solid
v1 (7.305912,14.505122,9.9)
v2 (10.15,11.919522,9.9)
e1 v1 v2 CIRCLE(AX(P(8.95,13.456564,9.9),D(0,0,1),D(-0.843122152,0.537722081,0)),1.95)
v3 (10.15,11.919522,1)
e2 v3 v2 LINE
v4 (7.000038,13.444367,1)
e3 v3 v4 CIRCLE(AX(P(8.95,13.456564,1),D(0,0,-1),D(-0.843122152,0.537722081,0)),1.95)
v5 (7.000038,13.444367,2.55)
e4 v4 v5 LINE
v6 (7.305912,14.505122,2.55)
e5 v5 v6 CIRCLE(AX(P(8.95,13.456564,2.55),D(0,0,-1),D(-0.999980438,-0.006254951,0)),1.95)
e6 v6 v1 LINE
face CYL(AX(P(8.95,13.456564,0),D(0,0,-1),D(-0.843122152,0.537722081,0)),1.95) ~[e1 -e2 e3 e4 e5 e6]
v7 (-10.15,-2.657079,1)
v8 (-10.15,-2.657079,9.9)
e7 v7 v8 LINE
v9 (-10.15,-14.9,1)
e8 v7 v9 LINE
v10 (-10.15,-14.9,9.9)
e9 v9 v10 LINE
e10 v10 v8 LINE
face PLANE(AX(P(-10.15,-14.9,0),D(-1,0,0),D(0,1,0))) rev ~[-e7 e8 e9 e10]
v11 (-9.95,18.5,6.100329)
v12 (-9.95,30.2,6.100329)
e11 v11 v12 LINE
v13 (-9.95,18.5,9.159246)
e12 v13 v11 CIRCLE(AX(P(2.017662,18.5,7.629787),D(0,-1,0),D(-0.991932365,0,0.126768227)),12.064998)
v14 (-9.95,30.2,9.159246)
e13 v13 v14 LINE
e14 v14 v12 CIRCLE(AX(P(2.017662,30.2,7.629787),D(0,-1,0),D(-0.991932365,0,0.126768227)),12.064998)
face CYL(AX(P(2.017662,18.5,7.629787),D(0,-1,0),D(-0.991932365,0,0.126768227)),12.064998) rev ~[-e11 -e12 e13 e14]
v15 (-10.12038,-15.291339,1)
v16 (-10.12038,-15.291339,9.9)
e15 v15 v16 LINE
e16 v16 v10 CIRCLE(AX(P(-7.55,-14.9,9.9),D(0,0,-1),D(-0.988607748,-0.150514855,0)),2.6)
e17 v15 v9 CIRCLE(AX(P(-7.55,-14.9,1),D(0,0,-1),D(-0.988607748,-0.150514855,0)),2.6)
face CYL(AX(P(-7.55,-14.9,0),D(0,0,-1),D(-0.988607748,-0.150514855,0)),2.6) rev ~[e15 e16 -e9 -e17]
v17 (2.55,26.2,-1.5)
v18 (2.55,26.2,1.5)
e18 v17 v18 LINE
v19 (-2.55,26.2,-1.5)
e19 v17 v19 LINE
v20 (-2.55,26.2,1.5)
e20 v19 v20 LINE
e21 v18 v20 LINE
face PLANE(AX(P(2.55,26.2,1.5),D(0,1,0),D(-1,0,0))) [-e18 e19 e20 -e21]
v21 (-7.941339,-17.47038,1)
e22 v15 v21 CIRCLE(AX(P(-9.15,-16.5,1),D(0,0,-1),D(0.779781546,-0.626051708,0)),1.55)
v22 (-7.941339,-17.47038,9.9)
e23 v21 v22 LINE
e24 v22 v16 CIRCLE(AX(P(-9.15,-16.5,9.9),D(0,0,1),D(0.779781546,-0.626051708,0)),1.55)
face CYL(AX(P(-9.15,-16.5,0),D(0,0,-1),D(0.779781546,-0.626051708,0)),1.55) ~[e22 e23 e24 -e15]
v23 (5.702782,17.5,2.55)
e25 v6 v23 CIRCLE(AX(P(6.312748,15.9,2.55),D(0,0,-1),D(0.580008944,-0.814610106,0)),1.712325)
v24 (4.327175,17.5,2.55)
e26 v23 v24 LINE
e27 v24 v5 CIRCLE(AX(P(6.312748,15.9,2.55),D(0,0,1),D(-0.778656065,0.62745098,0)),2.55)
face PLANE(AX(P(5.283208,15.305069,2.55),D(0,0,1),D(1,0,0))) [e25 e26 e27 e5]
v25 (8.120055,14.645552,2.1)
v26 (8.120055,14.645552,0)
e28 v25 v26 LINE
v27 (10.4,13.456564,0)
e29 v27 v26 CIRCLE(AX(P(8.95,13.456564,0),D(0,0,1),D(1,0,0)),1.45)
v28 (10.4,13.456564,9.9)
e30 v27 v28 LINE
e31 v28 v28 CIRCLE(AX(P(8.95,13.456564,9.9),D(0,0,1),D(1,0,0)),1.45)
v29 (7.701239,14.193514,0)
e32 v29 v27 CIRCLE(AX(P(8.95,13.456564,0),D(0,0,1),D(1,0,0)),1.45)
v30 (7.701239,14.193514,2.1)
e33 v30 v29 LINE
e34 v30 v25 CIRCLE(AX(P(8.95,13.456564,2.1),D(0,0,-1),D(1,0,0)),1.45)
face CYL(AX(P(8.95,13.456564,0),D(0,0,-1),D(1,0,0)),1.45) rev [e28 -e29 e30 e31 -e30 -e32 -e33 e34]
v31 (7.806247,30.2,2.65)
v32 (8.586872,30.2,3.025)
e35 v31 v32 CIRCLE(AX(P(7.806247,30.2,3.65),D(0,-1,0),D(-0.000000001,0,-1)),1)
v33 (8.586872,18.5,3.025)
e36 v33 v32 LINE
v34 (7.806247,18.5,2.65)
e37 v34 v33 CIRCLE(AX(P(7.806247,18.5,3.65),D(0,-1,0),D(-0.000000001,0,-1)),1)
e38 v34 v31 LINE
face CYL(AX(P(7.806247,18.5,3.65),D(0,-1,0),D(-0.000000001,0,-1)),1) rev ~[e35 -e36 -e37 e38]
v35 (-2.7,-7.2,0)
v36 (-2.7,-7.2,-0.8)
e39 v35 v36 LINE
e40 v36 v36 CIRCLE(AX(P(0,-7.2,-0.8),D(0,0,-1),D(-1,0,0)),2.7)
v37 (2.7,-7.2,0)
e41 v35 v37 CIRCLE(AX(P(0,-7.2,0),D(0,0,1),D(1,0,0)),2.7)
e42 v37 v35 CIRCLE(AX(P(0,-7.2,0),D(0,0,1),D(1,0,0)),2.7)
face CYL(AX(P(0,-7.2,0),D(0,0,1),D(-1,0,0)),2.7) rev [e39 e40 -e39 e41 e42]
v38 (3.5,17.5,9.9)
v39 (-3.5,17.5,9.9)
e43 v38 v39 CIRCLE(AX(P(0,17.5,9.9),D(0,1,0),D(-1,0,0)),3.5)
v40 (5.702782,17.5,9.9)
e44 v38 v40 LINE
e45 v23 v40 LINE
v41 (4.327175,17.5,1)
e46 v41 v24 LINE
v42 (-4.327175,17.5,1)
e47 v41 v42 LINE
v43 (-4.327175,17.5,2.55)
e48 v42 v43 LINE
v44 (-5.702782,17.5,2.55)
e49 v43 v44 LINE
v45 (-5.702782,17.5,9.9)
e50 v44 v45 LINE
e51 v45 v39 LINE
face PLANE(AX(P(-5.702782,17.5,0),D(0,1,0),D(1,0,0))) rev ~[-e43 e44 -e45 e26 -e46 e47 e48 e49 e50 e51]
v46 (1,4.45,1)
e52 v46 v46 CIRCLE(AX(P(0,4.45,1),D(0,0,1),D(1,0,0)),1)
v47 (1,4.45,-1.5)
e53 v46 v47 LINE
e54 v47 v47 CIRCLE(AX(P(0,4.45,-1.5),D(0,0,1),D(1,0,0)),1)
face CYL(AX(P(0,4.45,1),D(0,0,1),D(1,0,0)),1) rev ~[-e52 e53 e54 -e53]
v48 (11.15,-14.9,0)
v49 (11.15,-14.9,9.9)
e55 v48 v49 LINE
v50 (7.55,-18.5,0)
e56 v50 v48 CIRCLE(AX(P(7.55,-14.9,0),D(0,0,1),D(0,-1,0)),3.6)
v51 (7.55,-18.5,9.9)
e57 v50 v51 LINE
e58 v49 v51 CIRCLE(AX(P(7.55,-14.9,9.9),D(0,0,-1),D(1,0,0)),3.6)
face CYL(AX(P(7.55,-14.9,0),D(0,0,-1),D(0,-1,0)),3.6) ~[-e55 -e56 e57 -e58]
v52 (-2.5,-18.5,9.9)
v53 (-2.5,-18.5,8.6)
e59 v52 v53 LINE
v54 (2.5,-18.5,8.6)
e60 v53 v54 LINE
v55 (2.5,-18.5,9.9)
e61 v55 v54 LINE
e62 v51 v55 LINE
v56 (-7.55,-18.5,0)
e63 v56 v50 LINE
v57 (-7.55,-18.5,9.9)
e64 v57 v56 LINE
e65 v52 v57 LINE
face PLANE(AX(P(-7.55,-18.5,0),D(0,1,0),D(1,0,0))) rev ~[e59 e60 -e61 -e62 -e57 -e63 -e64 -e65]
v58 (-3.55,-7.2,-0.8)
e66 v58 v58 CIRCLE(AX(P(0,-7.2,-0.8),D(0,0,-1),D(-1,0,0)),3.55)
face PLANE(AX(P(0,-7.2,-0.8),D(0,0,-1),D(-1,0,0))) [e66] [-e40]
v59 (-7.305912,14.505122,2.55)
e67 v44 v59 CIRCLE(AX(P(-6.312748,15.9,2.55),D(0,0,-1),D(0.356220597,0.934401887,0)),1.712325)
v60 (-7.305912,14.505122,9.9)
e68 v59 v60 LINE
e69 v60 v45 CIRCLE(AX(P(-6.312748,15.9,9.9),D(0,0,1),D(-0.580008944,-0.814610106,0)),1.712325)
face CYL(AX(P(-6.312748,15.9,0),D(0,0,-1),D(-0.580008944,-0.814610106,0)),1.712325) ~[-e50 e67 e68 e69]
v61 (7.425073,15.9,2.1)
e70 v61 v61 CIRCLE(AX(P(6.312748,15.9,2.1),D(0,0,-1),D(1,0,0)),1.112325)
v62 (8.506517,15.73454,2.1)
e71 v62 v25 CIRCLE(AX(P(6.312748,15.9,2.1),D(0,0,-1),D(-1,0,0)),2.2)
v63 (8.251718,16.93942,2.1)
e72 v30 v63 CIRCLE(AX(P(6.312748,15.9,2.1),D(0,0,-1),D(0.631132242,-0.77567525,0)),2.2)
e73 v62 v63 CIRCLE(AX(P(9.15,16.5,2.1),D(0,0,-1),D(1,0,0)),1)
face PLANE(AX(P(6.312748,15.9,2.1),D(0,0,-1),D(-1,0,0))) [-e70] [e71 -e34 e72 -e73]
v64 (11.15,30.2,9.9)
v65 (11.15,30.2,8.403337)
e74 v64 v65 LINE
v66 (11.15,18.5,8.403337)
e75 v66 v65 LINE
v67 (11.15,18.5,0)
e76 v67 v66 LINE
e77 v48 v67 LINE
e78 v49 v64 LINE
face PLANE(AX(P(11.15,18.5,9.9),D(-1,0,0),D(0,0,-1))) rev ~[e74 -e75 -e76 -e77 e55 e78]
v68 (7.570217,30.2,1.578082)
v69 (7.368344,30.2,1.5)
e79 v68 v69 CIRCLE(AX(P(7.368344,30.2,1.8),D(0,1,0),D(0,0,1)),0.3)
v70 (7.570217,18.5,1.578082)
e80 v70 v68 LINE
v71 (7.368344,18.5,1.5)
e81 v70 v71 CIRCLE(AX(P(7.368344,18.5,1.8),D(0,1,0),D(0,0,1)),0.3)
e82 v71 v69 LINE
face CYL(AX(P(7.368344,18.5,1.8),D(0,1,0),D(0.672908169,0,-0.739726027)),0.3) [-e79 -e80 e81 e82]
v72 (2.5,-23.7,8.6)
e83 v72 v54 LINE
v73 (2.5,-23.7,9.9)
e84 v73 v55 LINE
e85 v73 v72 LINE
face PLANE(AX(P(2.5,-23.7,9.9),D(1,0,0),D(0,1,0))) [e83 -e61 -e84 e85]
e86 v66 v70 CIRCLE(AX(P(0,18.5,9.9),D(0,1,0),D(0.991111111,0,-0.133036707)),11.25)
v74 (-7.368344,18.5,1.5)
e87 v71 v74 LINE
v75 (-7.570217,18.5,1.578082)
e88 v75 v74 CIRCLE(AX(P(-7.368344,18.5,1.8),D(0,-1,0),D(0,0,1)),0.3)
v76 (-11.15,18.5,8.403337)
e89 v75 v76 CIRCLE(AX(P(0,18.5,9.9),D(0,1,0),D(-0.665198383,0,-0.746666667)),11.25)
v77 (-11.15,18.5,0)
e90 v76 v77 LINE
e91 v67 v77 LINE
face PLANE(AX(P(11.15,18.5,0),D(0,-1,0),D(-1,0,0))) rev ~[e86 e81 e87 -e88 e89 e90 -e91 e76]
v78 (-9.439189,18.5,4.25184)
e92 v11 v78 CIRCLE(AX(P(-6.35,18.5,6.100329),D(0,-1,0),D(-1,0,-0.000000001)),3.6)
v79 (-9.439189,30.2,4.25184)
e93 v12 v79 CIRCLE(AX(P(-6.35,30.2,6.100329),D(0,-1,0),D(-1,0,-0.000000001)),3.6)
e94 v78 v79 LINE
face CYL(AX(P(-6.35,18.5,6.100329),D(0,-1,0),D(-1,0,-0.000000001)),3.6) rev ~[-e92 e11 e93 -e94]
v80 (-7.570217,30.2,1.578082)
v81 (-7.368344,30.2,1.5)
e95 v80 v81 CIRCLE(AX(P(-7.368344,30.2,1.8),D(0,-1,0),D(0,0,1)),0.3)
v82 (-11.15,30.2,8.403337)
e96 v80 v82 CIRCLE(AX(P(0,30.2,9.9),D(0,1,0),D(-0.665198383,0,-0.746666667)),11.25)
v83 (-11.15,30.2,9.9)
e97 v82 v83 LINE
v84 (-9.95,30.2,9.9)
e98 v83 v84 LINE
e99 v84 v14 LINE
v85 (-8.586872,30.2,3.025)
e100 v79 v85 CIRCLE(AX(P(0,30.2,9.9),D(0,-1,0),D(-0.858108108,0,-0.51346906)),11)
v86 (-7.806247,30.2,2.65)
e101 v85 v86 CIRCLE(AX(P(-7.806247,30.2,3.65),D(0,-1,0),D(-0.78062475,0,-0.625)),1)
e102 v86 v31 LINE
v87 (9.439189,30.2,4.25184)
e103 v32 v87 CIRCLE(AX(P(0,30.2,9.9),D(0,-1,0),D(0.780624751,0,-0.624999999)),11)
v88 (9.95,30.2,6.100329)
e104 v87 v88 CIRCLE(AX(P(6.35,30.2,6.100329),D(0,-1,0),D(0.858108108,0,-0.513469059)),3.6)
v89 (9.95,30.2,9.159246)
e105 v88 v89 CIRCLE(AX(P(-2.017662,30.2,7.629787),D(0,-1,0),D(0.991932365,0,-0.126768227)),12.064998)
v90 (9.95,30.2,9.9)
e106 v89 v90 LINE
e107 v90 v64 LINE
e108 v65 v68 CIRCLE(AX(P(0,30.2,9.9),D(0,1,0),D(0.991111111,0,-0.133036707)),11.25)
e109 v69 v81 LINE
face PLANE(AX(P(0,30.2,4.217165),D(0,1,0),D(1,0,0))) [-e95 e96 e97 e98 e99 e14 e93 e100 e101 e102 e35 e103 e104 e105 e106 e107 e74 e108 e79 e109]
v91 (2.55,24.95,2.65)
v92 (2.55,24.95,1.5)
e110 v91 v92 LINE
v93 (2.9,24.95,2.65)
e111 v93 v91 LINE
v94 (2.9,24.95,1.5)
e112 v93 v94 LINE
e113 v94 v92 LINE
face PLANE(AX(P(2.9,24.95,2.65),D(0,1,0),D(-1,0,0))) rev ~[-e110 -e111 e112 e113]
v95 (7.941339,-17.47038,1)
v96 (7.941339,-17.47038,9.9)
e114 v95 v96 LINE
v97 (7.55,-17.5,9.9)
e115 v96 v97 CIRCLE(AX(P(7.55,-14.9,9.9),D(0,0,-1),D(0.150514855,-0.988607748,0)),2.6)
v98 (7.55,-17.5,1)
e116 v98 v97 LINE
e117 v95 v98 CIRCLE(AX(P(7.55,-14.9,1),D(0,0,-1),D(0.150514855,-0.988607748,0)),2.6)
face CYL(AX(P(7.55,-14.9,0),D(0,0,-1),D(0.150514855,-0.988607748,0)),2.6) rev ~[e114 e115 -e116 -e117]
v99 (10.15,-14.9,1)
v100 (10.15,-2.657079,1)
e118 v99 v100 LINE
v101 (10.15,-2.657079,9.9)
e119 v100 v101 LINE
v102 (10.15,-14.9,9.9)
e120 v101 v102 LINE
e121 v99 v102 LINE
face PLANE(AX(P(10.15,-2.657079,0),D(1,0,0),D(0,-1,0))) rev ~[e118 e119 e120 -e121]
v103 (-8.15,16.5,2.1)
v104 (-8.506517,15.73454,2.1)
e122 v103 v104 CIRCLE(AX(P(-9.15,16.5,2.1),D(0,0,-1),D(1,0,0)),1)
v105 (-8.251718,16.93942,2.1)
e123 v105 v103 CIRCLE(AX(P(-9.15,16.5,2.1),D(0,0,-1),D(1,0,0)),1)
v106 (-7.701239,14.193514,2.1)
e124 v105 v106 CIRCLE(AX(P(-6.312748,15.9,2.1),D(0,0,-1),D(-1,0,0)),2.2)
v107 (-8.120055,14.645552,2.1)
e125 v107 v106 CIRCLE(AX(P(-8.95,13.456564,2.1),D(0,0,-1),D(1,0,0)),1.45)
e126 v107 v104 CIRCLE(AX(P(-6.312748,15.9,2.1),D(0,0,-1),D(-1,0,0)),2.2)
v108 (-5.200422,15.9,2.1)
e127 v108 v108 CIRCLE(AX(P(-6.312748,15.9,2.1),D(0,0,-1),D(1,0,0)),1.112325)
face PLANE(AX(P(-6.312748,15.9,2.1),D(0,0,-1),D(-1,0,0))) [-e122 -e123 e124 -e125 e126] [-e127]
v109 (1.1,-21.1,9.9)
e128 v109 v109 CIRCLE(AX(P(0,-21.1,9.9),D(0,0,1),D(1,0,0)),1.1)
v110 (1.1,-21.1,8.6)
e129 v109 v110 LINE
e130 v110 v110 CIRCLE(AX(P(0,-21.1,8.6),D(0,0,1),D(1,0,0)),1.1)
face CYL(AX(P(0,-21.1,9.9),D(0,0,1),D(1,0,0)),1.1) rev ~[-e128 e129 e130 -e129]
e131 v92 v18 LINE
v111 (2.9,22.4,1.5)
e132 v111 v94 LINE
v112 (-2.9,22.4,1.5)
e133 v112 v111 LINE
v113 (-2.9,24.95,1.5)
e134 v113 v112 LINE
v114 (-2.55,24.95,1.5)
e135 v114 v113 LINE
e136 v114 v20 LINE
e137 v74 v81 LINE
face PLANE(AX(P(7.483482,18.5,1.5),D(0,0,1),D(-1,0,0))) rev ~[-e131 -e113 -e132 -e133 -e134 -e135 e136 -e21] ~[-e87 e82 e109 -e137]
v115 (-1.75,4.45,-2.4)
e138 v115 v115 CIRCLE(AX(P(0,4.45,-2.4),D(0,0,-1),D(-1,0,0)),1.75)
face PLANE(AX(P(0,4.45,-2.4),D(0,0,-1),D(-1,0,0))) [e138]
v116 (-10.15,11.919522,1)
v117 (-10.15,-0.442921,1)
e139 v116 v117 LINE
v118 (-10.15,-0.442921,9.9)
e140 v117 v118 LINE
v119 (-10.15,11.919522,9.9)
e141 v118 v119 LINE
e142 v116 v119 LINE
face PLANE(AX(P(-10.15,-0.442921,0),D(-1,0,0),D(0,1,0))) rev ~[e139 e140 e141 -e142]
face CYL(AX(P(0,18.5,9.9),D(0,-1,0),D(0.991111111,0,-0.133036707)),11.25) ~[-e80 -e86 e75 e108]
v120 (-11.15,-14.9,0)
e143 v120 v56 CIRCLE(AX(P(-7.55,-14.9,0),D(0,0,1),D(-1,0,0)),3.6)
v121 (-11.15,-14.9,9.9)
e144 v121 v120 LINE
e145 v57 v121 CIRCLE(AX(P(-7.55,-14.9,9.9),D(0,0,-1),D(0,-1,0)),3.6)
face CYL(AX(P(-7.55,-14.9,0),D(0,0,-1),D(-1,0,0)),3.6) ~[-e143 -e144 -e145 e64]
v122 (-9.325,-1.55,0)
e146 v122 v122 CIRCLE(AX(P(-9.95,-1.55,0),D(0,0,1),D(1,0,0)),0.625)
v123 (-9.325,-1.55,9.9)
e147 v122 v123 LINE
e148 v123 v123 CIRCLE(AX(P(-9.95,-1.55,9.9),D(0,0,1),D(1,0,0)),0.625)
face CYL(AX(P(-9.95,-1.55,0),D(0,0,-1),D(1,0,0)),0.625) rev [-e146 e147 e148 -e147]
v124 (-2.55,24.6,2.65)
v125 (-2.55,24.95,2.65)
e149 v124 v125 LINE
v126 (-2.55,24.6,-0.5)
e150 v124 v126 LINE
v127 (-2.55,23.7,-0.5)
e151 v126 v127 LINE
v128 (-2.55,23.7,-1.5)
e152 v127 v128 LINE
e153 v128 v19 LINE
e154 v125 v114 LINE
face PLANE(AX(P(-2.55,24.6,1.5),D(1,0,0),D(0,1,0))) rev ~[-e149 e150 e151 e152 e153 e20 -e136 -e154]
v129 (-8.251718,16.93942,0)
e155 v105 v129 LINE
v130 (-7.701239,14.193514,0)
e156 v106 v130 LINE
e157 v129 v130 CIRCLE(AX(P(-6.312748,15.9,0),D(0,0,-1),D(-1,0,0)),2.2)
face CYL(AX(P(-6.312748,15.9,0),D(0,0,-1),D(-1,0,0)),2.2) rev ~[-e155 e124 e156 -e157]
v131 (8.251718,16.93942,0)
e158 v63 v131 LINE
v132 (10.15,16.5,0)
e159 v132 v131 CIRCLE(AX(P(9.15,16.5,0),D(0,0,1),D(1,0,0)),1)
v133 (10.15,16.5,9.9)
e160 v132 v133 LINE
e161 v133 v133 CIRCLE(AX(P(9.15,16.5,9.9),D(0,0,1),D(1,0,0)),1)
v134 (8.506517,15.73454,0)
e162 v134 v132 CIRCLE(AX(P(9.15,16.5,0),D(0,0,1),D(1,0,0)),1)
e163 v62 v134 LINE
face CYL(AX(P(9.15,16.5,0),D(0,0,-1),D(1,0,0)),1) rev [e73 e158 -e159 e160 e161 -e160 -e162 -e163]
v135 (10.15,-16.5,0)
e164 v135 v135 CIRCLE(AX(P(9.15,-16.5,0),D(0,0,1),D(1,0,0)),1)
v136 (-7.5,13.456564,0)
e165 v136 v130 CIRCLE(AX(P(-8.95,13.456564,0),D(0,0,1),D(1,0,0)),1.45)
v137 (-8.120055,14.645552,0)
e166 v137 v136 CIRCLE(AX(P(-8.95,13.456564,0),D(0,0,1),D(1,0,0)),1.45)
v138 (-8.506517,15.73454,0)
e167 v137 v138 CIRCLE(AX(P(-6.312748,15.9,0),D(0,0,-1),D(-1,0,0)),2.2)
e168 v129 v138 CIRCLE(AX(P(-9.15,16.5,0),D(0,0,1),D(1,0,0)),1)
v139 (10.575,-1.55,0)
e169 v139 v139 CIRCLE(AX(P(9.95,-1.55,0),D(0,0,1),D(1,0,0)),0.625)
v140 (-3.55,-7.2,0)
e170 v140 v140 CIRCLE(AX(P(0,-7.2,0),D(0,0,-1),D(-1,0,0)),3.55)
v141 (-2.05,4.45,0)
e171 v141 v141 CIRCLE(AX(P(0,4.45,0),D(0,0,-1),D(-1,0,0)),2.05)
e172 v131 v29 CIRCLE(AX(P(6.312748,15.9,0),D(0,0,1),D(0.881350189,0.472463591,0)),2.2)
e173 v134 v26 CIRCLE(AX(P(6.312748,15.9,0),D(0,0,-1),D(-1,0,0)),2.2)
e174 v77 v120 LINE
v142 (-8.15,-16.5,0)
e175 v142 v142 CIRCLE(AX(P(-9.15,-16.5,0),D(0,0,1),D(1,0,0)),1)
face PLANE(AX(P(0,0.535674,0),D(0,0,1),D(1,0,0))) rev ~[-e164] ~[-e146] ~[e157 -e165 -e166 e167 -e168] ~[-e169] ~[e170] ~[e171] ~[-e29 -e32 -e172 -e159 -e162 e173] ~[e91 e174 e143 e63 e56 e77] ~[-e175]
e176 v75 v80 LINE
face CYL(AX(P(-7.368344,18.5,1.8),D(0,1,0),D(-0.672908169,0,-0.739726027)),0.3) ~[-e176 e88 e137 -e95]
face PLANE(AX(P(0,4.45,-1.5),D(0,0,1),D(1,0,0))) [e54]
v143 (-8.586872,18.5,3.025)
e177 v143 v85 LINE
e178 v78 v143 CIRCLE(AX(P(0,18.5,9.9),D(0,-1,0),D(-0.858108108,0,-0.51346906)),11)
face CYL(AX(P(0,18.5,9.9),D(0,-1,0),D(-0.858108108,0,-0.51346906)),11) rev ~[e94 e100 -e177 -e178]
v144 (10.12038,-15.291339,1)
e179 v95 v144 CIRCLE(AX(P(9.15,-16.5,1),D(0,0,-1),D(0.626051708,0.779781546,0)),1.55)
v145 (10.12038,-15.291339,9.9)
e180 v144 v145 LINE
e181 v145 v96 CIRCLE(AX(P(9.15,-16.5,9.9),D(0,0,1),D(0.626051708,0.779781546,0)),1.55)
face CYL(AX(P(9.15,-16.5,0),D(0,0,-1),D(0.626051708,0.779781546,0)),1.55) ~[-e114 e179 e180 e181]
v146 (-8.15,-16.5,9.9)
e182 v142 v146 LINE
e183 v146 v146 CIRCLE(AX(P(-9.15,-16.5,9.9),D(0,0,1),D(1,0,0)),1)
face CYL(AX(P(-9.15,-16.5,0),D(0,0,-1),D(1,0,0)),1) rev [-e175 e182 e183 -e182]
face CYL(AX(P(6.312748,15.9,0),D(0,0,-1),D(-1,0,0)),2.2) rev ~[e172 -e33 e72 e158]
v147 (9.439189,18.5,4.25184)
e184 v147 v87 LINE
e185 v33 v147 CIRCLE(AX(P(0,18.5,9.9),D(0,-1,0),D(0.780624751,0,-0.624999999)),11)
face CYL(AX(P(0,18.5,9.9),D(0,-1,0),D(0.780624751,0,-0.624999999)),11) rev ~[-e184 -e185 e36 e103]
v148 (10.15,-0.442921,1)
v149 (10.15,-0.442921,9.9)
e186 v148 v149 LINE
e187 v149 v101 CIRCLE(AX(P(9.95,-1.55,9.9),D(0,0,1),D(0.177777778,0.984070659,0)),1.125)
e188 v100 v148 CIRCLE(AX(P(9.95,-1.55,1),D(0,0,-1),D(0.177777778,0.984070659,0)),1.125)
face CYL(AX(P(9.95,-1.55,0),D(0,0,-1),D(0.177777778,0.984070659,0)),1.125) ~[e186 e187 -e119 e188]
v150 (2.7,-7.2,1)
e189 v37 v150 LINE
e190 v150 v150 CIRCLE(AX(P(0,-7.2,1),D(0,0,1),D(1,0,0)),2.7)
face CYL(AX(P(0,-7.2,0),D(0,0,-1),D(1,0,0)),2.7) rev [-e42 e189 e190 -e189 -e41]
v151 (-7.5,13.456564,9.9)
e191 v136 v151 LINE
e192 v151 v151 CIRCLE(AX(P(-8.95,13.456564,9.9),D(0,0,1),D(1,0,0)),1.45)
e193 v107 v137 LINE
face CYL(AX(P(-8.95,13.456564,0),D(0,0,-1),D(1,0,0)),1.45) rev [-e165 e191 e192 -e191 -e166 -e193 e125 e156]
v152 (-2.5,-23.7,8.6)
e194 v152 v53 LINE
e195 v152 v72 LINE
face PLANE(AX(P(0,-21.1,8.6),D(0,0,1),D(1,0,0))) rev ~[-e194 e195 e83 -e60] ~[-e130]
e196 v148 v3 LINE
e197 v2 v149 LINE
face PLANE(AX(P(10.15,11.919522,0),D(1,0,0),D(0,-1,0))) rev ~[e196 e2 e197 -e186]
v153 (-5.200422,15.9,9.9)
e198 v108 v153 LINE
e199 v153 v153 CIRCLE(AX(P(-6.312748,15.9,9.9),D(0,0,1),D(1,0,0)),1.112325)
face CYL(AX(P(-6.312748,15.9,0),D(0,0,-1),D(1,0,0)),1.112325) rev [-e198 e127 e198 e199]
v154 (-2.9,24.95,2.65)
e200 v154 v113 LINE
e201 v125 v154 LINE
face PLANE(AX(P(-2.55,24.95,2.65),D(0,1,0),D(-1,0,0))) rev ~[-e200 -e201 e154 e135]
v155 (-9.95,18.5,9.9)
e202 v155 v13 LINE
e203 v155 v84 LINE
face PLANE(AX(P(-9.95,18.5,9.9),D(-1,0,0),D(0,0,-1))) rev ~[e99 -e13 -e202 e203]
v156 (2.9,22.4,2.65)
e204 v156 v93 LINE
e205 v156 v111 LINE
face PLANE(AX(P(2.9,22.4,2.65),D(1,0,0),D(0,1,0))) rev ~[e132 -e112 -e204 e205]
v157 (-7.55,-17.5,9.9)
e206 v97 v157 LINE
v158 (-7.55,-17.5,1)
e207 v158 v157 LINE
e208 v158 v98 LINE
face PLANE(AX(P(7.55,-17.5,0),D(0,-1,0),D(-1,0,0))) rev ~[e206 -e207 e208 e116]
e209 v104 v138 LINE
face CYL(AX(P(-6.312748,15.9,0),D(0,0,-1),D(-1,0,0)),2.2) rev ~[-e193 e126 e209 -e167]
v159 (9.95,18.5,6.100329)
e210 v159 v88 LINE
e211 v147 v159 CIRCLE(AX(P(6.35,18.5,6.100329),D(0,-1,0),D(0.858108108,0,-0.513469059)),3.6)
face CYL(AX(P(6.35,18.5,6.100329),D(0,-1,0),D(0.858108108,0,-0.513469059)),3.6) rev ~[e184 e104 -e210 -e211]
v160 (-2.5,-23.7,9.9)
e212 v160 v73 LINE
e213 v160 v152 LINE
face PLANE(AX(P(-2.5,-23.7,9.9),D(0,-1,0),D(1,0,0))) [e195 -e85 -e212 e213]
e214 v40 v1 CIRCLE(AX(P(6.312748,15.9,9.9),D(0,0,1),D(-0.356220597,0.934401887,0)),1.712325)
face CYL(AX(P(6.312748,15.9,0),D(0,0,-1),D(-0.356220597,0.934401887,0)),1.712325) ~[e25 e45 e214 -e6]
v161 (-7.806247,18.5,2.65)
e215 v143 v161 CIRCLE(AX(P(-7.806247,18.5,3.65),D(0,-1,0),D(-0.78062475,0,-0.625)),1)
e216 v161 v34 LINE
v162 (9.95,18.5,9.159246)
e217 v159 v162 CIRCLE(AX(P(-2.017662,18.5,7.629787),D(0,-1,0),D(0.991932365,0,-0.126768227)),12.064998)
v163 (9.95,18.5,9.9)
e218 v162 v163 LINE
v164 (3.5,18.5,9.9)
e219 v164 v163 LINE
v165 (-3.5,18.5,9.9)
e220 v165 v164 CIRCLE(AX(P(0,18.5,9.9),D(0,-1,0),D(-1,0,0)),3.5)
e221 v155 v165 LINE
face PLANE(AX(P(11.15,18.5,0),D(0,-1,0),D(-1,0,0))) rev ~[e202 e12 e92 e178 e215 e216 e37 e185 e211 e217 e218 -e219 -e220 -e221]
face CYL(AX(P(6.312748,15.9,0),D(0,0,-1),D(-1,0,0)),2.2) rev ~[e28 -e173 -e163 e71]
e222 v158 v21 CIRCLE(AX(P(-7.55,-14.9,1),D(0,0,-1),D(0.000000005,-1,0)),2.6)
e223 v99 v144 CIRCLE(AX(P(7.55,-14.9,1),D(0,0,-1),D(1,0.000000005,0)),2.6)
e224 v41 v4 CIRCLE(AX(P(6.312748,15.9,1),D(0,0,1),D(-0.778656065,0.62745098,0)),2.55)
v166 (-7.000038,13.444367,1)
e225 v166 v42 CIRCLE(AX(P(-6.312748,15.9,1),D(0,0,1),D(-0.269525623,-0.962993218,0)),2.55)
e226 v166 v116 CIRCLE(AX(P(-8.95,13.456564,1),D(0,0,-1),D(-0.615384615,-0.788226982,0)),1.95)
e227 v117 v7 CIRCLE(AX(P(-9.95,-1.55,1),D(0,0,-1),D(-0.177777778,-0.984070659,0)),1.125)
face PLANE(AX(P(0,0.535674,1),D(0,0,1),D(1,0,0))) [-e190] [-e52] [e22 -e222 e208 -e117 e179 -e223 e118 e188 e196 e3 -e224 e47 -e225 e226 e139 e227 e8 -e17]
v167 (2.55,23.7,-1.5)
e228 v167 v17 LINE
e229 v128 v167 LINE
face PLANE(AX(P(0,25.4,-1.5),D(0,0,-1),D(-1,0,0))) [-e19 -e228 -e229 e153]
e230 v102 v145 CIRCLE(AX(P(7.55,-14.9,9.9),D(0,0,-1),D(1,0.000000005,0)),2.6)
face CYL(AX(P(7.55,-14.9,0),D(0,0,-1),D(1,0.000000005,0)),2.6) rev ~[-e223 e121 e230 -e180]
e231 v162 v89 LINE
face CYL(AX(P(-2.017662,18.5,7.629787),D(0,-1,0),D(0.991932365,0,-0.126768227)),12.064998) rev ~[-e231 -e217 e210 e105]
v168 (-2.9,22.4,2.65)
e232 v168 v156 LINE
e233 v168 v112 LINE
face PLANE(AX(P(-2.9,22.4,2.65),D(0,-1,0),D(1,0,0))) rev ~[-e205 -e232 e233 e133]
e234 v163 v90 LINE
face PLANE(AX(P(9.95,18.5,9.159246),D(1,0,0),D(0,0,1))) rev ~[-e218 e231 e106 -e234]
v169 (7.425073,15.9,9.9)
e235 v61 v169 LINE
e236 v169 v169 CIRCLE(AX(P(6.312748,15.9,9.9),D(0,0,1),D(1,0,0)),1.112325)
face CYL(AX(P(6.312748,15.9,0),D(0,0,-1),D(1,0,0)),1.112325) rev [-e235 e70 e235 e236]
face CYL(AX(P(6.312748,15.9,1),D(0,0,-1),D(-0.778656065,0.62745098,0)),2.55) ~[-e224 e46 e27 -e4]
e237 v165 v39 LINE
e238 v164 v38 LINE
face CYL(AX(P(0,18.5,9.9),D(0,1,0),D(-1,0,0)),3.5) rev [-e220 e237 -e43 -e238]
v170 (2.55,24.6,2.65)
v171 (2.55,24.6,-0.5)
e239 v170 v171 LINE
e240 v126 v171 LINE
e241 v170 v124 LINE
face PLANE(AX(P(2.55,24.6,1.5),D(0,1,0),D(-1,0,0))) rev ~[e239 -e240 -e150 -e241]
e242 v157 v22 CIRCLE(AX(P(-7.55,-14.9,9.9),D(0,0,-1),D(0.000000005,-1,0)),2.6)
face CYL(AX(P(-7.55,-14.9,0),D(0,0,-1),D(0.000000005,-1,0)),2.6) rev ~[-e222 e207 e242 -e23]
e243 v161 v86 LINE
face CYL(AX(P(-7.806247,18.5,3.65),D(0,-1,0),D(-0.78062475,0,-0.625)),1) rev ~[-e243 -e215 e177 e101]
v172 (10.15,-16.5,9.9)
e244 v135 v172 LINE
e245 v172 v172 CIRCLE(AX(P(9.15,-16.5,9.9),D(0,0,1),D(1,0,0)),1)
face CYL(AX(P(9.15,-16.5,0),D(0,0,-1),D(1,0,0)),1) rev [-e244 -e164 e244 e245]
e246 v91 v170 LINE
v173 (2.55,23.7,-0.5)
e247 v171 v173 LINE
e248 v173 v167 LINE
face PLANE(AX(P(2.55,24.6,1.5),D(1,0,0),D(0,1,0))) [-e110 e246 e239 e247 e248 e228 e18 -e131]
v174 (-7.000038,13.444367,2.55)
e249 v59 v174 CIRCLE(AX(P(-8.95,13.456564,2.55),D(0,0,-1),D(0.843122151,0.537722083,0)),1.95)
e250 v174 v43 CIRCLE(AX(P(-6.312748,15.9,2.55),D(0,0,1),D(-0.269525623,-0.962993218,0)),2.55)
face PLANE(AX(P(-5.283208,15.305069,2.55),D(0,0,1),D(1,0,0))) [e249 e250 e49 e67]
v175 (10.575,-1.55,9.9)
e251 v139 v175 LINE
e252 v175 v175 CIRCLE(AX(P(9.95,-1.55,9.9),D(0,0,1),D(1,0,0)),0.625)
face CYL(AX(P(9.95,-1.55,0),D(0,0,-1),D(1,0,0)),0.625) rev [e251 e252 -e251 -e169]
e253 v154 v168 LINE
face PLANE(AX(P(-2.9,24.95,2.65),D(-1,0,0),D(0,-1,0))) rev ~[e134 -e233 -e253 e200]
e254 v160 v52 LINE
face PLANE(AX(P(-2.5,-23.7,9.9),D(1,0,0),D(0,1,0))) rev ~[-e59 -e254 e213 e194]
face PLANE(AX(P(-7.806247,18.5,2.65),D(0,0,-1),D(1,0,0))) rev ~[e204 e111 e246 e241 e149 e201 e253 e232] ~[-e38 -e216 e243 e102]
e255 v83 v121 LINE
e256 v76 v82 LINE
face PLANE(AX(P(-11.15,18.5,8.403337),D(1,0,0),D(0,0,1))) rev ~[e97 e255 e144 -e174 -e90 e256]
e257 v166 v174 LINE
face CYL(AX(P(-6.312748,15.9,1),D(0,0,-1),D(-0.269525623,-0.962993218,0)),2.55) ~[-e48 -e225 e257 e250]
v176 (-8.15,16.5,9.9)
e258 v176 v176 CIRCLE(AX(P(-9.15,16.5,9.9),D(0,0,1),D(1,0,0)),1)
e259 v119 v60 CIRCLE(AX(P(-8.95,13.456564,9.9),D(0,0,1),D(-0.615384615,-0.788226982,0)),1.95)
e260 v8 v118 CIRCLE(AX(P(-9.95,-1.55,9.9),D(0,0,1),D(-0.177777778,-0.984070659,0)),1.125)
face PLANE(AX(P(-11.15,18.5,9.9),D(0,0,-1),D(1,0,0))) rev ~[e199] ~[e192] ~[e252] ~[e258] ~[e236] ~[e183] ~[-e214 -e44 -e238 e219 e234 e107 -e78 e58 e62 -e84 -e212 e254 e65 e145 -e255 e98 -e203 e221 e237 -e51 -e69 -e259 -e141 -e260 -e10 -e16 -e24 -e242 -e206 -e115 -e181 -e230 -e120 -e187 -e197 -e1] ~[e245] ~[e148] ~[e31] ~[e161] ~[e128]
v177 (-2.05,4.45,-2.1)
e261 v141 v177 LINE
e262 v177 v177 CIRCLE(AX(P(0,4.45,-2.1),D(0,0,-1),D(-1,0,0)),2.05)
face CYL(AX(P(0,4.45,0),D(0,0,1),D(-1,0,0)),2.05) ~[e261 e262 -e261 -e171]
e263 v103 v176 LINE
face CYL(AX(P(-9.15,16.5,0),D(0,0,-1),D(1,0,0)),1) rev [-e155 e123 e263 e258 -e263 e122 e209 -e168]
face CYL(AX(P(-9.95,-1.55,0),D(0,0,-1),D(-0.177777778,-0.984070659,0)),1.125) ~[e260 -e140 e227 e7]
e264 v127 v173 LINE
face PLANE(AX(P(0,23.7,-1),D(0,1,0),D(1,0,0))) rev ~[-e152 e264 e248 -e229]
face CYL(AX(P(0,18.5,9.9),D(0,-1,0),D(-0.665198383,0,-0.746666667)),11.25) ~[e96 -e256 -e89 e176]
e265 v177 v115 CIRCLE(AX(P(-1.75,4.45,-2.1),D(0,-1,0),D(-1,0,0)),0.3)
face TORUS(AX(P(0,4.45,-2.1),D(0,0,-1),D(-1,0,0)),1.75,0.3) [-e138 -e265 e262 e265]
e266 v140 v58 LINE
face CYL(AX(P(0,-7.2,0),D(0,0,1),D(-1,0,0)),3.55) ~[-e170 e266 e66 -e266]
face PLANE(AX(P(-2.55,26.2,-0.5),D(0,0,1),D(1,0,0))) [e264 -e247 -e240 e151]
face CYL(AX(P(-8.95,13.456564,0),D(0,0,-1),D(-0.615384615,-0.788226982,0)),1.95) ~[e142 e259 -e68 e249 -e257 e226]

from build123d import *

# Parameters (mm, degrees)
SKETCH1_R           = 1
SKETCH1_R_2         = 0.625
SKETCH1_R_3         = 2.7
SKETCH1_R_4         = 1.45
SKETCH1_R_5         = 1.112325309
BOSS_EXTRUDE1_DEPTH = 1
SKETCH2_R           = 1.112325309
SKETCH2_R_2         = 1.45
SKETCH2_R_3         = 0.625
SKETCH2_R_4         = 1
BOSS_EXTRUDE2_DEPTH = 9.9
BOSS_EXTRUDE3_DEPTH = 1.55
SKETCH4_R           = 2.2
CUT_EXTRUDE1_DEPTH  = 2.1
SKETCH5_R           = 3.55
SKETCH5_R_2         = 2.7
BOSS_EXTRUDE4_DEPTH = 0.8
SKETCH6_R           = 2.05
BOSS_EXTRUDE5_DEPTH = 2.4
SKETCH7_W           = 5
SKETCH7_H           = 5.2
SKETCH7_R           = 1.1
BOSS_EXTRUDE6_DEPTH = 1.3
CUT_EXTRUDE2_DEPTH  = 1.3
BOSS_EXTRUDE7_DEPTH = 11.7
CUT_EXTRUDE3_DEPTH  = 1.7
SKETCH11_W          = 5.1
SKETCH11_H          = 1.6
BOSS_EXTRUDE8_DEPTH = 3
SKETCH12_W          = 5.1
SKETCH12_H          = 1
BOSS_EXTRUDE9_DEPTH = 2.5
SKETCH13_R          = 1
CUT_EXTRUDE4_DEPTH  = 2.5
FILLET1_R           = 0.3
FILLET2_R           = 0.3


with BuildPart() as part:
    # Sketch1 → Boss-Extrude1 (new body)
    with BuildSketch(Plane.XY):
        with BuildLine():
            Line((-7.55, -18.5), (7.55, -18.5))
            ThreePointArc((7.55, -18.5), (10.095584412, -17.445584412), (11.15, -14.9))
            Line((11.15, -14.9), (11.15, 18.5))
            Line((11.15, 18.5), (-11.15, 18.5))
            Line((-11.15, 18.5), (-11.15, -14.9))
            ThreePointArc((-11.15, -14.9), (-10.095584412, -17.445584412), (-7.55, -18.5))
        make_face()
        with Locations((9.15, -16.5)):
            Circle(SKETCH1_R, mode=Mode.SUBTRACT)
        with Locations((-9.95, -1.55)):
            Circle(SKETCH1_R_2, mode=Mode.SUBTRACT)
        with Locations((9.95, -1.55)):
            Circle(SKETCH1_R_2, mode=Mode.SUBTRACT)
        with Locations((-9.15, -16.5)):
            Circle(SKETCH1_R, mode=Mode.SUBTRACT)
        with Locations((0, -7.2)):
            Circle(SKETCH1_R_3, mode=Mode.SUBTRACT)
        with Locations((9.15, 16.5)):
            Circle(SKETCH1_R, mode=Mode.SUBTRACT)
        with Locations((-9.15, 16.5)):
            Circle(SKETCH1_R, mode=Mode.SUBTRACT)
        with Locations((8.95, 13.456564441)):
            Circle(SKETCH1_R_4, mode=Mode.SUBTRACT)
        with Locations((6.312747808, 15.9)):
            Circle(SKETCH1_R_5, mode=Mode.SUBTRACT)
        with Locations((-6.312747808, 15.9)):
            Circle(SKETCH1_R_5, mode=Mode.SUBTRACT)
        with Locations((-8.95, 13.456564441)):
            Circle(SKETCH1_R_4, mode=Mode.SUBTRACT)
    extrude(amount=BOSS_EXTRUDE1_DEPTH)

    # Sketch2 → Boss-Extrude2 (add)
    with BuildSketch(Plane.XY):
        with BuildLine():
            Line((-11.15, -14.9), (-11.15, 18.5))
            Line((-11.15, 18.5), (11.15, 18.5))
            Line((11.15, 18.5), (11.15, -14.9))
            ThreePointArc((11.15, -14.9), (10.095584412, -17.445584412), (7.55, -18.5))
            Line((7.55, -18.5), (-7.55, -18.5))
            ThreePointArc((-7.55, -18.5), (-10.095584412, -17.445584412), (-11.15, -14.9))
        make_face()
        with Locations((-6.312747808, 15.9)):
            Circle(SKETCH2_R, mode=Mode.SUBTRACT)
        with Locations((-8.95, 13.456564441)):
            Circle(SKETCH2_R_2, mode=Mode.SUBTRACT)
        with Locations((-9.95, -1.55)):
            Circle(SKETCH2_R_3, mode=Mode.SUBTRACT)
        with Locations((-9.15, -16.5)):
            Circle(SKETCH2_R_4, mode=Mode.SUBTRACT)
        with Locations((9.15, -16.5)):
            Circle(SKETCH2_R_4, mode=Mode.SUBTRACT)
        with Locations((9.95, -1.55)):
            Circle(SKETCH2_R_3, mode=Mode.SUBTRACT)
        with Locations((8.95, 13.456564441)):
            Circle(SKETCH2_R_2, mode=Mode.SUBTRACT)
        with Locations((6.312747808, 15.9)):
            Circle(SKETCH2_R, mode=Mode.SUBTRACT)
        with Locations((-9.15, 16.5)):
            Circle(SKETCH2_R_4, mode=Mode.SUBTRACT)
        with Locations((9.15, 16.5)):
            Circle(SKETCH2_R_4, mode=Mode.SUBTRACT)
        with BuildLine():
            Line((-10.15, -14.9), (-10.15, -2.657079491))
            ThreePointArc((-10.15, -2.657079491), (-8.825, -1.55), (-10.15, -0.442920509))
            Line((-10.15, -0.442920509), (-10.15, 11.919521826))
            ThreePointArc((-10.15, 11.919521826), (-7.638269734, 12.013697951), (-7.305911803, 14.505122499))
            ThreePointArc((-7.305911803, 14.505122499), (-4.803101136, 15.091900446), (-5.702782265, 17.5))
            Line((-5.702782265, 17.5), (5.702782265, 17.5))
            ThreePointArc((5.702782265, 17.5), (4.803101136, 15.091900446), (7.305911803, 14.505122499))
            ThreePointArc((7.305911803, 14.505122499), (7.638269734, 12.013697951), (10.15, 11.919521826))
            Line((10.15, 11.919521826), (10.15, -0.442920509))
            ThreePointArc((10.15, -0.442920509), (8.825, -1.55), (10.15, -2.657079491))
            Line((10.15, -2.657079491), (10.15, -14.9))
            ThreePointArc((10.15, -14.9), (10.142584462, -15.096228972), (10.120380146, -15.291338604))
            ThreePointArc((10.120380146, -15.291338604), (8.053984489, -15.403984489), (7.941338604, -17.470380146))
            ThreePointArc((7.941338604, -17.470380146), (7.746228972, -17.492584462), (7.55, -17.5))
            Line((7.55, -17.5), (-7.55, -17.5))
            ThreePointArc((-7.55, -17.5), (-7.746228972, -17.492584462), (-7.941338604, -17.470380146))
            ThreePointArc((-7.941338604, -17.470380146), (-8.053984489, -15.403984489), (-10.120380146, -15.291338604))
            ThreePointArc((-10.120380146, -15.291338604), (-10.142584462, -15.096228972), (-10.15, -14.9))
        make_face(mode=Mode.SUBTRACT)
    extrude(amount=BOSS_EXTRUDE2_DEPTH)

    # Sketch3 → Boss-Extrude3 (add)
    with BuildSketch(Plane.XY.offset(1)):
        with BuildLine():
            Line((5.702782265, 17.5), (4.327174843, 17.5))
            ThreePointArc((4.327174843, 17.5), (4.183564019, 14.496762175), (7.000038147, 13.444367293))
            ThreePointArc((7.000038147, 13.444367293), (7.076340654, 13.996842756), (7.305911803, 14.505122499))
            ThreePointArc((7.305911803, 14.505122499), (4.803101136, 15.091900446), (5.702782265, 17.5))
        make_face()
        with BuildLine():
            Line((-4.327174843, 17.5), (-5.702782265, 17.5))
            ThreePointArc((-5.702782265, 17.5), (-4.803101136, 15.091900446), (-7.305911803, 14.505122499))
            ThreePointArc((-7.305911803, 14.505122499), (-7.076340654, 13.996842756), (-7.000038147, 13.444367293))
            ThreePointArc((-7.000038147, 13.444367293), (-4.183564019, 14.496762175), (-4.327174843, 17.5))
        make_face()
    extrude(amount=BOSS_EXTRUDE3_DEPTH)

    # Sketch4 → Cut-Extrude1 (cut)
    with BuildSketch(Plane(origin=(0, 0, 0), x_dir=(-1, 0, 0), z_dir=(0, 0, -1))):
        with Locations((-6.312747808, 15.9)):
            Circle(SKETCH4_R)
        with Locations((6.312747808, 15.9)):
            Circle(SKETCH4_R)
    extrude(amount=-CUT_EXTRUDE1_DEPTH, mode=Mode.SUBTRACT)

    # Sketch5 → Boss-Extrude4 (add)
    with BuildSketch(Plane(origin=(0, 0, 0), x_dir=(-1, 0, 0), z_dir=(0, 0, -1))):
        with Locations((0, -7.2)):
            Circle(SKETCH5_R)
        with Locations((0, -7.2)):
            Circle(SKETCH5_R_2, mode=Mode.SUBTRACT)
    extrude(amount=BOSS_EXTRUDE4_DEPTH)

    # Sketch6 → Boss-Extrude5 (add)
    with BuildSketch(Plane(origin=(0, 0, 0), x_dir=(-1, 0, 0), z_dir=(0, 0, -1))):
        with Locations((0, 4.45)):
            Circle(SKETCH6_R)
    extrude(amount=BOSS_EXTRUDE5_DEPTH)

    # Sketch7 → Boss-Extrude6 (add)
    with BuildSketch(Plane.XY.offset(9.9)):
        with Locations((0, -21.1)):
            Rectangle(SKETCH7_W, SKETCH7_H)
        with Locations((0, -21.1)):
            Circle(SKETCH7_R, mode=Mode.SUBTRACT)
    extrude(amount=-BOSS_EXTRUDE6_DEPTH)

    # Sketch8 → Cut-Extrude2 (cut)
    with BuildSketch(Plane(origin=(0, 18.5, 0), x_dir=(1, 0, 0), z_dir=(0, 1, 0))):
        with BuildLine():
            Line((3.5, -9.9), (-3.5, -9.9))
            ThreePointArc((-3.5, -9.9), (0, -6.4), (3.5, -9.9))
        make_face()
    extrude(amount=-CUT_EXTRUDE2_DEPTH, mode=Mode.SUBTRACT)

    # Sketch9 → Boss-Extrude7 (add)
    with BuildSketch(Plane(origin=(0, 18.5, 0), x_dir=(1, 0, 0), z_dir=(0, 1, 0))):
        with BuildLine():
            Line((-9.95, -9.9), (-9.95, -9.159245706))
            ThreePointArc((-9.95, -9.159245706), (-10.047335999, -7.629787334), (-9.95, -6.100328962))
            ThreePointArc((-9.95, -6.100328962), (-9.819948204, -5.141444475), (-9.439189189, -4.251840348))
            ThreePointArc((-9.439189189, -4.251840348), (-9.033881062, -3.623934915), (-8.586872248, -3.025))
            ThreePointArc((-8.586872248, -3.025), (-8.2392602, -2.748612181), (-7.806247498, -2.65))
            Line((-7.806247498, -2.65), (7.806247498, -2.65))
            ThreePointArc((7.806247498, -2.65), (8.2392602, -2.748612181), (8.586872248, -3.025))
            ThreePointArc((8.586872248, -3.025), (9.033881062, -3.623934915), (9.439189189, -4.251840348))
            ThreePointArc((9.439189189, -4.251840348), (9.819948204, -5.141444475), (9.95, -6.100328962))
            ThreePointArc((9.95, -6.100328962), (10.047335999, -7.629787334), (9.95, -9.159245706))
            Line((9.95, -9.159245706), (9.95, -9.9))
            Line((9.95, -9.9), (11.15, -9.9))
            Line((11.15, -9.9), (11.15, -8.403337045))
            ThreePointArc((11.15, -8.403337045), (9.935576313, -4.622991063), (7.48348181, -1.5))
            Line((7.48348181, -1.5), (-7.48348181, -1.5))
            ThreePointArc((-7.48348181, -1.5), (-9.935576313, -4.622991063), (-11.15, -8.403337045))
            Line((-11.15, -8.403337045), (-11.15, -9.9))
            Line((-11.15, -9.9), (-9.95, -9.9))
        make_face()
    extrude(amount=BOSS_EXTRUDE7_DEPTH)

    # Sketch10 → Cut-Extrude3 (cut)
    with BuildSketch(Plane.XY.offset(2.65)):
        Polygon((2.55, 24.6), (-2.55, 24.6), (-2.55, 24.95), (-2.9, 24.95), (-2.9, 24.6), (-2.9, 22.4), (2.9, 22.4), (2.9, 24.6), (2.9, 24.95), (2.55, 24.95), align=None)
    extrude(amount=-CUT_EXTRUDE3_DEPTH, mode=Mode.SUBTRACT)

    # Sketch11 → Boss-Extrude8 (add)
    with BuildSketch(Plane(origin=(0, 0, 1.5), x_dir=(-1, 0, 0), z_dir=(0, 0, -1))):
        with Locations((0, 25.4)):
            Rectangle(SKETCH11_W, SKETCH11_H)
    extrude(amount=BOSS_EXTRUDE8_DEPTH)

    # Sketch12 → Boss-Extrude9 (add)
    with BuildSketch(Plane(origin=(0, 26.2, 0), x_dir=(1, 0, 0), z_dir=(0, 1, 0))):
        with Locations((0, 1)):
            Rectangle(SKETCH12_W, SKETCH12_H)
    extrude(amount=-BOSS_EXTRUDE9_DEPTH)

    # Sketch13 → Cut-Extrude4 (cut)
    with BuildSketch(Plane.XY.offset(1)):
        with Locations((0, 4.45)):
            Circle(SKETCH13_R)
    extrude(amount=-CUT_EXTRUDE4_DEPTH, mode=Mode.SUBTRACT)

    # Fillet1
    fillet1_edges = [part.edges().sort_by_distance(p)[0] for p in [
        (2.05, 4.45, -2.4),
    ]]
    fillet(fillet1_edges, radius=FILLET1_R)

    # Fillet2
    fillet2_edges = [part.edges().sort_by_distance(p)[0] for p in [
        (7.48348181, 24.35, 1.5),
        (-7.48348181, 24.35, 1.5),
    ]]
    fillet(fillet2_edges, radius=FILLET2_R)


solid = part.part
